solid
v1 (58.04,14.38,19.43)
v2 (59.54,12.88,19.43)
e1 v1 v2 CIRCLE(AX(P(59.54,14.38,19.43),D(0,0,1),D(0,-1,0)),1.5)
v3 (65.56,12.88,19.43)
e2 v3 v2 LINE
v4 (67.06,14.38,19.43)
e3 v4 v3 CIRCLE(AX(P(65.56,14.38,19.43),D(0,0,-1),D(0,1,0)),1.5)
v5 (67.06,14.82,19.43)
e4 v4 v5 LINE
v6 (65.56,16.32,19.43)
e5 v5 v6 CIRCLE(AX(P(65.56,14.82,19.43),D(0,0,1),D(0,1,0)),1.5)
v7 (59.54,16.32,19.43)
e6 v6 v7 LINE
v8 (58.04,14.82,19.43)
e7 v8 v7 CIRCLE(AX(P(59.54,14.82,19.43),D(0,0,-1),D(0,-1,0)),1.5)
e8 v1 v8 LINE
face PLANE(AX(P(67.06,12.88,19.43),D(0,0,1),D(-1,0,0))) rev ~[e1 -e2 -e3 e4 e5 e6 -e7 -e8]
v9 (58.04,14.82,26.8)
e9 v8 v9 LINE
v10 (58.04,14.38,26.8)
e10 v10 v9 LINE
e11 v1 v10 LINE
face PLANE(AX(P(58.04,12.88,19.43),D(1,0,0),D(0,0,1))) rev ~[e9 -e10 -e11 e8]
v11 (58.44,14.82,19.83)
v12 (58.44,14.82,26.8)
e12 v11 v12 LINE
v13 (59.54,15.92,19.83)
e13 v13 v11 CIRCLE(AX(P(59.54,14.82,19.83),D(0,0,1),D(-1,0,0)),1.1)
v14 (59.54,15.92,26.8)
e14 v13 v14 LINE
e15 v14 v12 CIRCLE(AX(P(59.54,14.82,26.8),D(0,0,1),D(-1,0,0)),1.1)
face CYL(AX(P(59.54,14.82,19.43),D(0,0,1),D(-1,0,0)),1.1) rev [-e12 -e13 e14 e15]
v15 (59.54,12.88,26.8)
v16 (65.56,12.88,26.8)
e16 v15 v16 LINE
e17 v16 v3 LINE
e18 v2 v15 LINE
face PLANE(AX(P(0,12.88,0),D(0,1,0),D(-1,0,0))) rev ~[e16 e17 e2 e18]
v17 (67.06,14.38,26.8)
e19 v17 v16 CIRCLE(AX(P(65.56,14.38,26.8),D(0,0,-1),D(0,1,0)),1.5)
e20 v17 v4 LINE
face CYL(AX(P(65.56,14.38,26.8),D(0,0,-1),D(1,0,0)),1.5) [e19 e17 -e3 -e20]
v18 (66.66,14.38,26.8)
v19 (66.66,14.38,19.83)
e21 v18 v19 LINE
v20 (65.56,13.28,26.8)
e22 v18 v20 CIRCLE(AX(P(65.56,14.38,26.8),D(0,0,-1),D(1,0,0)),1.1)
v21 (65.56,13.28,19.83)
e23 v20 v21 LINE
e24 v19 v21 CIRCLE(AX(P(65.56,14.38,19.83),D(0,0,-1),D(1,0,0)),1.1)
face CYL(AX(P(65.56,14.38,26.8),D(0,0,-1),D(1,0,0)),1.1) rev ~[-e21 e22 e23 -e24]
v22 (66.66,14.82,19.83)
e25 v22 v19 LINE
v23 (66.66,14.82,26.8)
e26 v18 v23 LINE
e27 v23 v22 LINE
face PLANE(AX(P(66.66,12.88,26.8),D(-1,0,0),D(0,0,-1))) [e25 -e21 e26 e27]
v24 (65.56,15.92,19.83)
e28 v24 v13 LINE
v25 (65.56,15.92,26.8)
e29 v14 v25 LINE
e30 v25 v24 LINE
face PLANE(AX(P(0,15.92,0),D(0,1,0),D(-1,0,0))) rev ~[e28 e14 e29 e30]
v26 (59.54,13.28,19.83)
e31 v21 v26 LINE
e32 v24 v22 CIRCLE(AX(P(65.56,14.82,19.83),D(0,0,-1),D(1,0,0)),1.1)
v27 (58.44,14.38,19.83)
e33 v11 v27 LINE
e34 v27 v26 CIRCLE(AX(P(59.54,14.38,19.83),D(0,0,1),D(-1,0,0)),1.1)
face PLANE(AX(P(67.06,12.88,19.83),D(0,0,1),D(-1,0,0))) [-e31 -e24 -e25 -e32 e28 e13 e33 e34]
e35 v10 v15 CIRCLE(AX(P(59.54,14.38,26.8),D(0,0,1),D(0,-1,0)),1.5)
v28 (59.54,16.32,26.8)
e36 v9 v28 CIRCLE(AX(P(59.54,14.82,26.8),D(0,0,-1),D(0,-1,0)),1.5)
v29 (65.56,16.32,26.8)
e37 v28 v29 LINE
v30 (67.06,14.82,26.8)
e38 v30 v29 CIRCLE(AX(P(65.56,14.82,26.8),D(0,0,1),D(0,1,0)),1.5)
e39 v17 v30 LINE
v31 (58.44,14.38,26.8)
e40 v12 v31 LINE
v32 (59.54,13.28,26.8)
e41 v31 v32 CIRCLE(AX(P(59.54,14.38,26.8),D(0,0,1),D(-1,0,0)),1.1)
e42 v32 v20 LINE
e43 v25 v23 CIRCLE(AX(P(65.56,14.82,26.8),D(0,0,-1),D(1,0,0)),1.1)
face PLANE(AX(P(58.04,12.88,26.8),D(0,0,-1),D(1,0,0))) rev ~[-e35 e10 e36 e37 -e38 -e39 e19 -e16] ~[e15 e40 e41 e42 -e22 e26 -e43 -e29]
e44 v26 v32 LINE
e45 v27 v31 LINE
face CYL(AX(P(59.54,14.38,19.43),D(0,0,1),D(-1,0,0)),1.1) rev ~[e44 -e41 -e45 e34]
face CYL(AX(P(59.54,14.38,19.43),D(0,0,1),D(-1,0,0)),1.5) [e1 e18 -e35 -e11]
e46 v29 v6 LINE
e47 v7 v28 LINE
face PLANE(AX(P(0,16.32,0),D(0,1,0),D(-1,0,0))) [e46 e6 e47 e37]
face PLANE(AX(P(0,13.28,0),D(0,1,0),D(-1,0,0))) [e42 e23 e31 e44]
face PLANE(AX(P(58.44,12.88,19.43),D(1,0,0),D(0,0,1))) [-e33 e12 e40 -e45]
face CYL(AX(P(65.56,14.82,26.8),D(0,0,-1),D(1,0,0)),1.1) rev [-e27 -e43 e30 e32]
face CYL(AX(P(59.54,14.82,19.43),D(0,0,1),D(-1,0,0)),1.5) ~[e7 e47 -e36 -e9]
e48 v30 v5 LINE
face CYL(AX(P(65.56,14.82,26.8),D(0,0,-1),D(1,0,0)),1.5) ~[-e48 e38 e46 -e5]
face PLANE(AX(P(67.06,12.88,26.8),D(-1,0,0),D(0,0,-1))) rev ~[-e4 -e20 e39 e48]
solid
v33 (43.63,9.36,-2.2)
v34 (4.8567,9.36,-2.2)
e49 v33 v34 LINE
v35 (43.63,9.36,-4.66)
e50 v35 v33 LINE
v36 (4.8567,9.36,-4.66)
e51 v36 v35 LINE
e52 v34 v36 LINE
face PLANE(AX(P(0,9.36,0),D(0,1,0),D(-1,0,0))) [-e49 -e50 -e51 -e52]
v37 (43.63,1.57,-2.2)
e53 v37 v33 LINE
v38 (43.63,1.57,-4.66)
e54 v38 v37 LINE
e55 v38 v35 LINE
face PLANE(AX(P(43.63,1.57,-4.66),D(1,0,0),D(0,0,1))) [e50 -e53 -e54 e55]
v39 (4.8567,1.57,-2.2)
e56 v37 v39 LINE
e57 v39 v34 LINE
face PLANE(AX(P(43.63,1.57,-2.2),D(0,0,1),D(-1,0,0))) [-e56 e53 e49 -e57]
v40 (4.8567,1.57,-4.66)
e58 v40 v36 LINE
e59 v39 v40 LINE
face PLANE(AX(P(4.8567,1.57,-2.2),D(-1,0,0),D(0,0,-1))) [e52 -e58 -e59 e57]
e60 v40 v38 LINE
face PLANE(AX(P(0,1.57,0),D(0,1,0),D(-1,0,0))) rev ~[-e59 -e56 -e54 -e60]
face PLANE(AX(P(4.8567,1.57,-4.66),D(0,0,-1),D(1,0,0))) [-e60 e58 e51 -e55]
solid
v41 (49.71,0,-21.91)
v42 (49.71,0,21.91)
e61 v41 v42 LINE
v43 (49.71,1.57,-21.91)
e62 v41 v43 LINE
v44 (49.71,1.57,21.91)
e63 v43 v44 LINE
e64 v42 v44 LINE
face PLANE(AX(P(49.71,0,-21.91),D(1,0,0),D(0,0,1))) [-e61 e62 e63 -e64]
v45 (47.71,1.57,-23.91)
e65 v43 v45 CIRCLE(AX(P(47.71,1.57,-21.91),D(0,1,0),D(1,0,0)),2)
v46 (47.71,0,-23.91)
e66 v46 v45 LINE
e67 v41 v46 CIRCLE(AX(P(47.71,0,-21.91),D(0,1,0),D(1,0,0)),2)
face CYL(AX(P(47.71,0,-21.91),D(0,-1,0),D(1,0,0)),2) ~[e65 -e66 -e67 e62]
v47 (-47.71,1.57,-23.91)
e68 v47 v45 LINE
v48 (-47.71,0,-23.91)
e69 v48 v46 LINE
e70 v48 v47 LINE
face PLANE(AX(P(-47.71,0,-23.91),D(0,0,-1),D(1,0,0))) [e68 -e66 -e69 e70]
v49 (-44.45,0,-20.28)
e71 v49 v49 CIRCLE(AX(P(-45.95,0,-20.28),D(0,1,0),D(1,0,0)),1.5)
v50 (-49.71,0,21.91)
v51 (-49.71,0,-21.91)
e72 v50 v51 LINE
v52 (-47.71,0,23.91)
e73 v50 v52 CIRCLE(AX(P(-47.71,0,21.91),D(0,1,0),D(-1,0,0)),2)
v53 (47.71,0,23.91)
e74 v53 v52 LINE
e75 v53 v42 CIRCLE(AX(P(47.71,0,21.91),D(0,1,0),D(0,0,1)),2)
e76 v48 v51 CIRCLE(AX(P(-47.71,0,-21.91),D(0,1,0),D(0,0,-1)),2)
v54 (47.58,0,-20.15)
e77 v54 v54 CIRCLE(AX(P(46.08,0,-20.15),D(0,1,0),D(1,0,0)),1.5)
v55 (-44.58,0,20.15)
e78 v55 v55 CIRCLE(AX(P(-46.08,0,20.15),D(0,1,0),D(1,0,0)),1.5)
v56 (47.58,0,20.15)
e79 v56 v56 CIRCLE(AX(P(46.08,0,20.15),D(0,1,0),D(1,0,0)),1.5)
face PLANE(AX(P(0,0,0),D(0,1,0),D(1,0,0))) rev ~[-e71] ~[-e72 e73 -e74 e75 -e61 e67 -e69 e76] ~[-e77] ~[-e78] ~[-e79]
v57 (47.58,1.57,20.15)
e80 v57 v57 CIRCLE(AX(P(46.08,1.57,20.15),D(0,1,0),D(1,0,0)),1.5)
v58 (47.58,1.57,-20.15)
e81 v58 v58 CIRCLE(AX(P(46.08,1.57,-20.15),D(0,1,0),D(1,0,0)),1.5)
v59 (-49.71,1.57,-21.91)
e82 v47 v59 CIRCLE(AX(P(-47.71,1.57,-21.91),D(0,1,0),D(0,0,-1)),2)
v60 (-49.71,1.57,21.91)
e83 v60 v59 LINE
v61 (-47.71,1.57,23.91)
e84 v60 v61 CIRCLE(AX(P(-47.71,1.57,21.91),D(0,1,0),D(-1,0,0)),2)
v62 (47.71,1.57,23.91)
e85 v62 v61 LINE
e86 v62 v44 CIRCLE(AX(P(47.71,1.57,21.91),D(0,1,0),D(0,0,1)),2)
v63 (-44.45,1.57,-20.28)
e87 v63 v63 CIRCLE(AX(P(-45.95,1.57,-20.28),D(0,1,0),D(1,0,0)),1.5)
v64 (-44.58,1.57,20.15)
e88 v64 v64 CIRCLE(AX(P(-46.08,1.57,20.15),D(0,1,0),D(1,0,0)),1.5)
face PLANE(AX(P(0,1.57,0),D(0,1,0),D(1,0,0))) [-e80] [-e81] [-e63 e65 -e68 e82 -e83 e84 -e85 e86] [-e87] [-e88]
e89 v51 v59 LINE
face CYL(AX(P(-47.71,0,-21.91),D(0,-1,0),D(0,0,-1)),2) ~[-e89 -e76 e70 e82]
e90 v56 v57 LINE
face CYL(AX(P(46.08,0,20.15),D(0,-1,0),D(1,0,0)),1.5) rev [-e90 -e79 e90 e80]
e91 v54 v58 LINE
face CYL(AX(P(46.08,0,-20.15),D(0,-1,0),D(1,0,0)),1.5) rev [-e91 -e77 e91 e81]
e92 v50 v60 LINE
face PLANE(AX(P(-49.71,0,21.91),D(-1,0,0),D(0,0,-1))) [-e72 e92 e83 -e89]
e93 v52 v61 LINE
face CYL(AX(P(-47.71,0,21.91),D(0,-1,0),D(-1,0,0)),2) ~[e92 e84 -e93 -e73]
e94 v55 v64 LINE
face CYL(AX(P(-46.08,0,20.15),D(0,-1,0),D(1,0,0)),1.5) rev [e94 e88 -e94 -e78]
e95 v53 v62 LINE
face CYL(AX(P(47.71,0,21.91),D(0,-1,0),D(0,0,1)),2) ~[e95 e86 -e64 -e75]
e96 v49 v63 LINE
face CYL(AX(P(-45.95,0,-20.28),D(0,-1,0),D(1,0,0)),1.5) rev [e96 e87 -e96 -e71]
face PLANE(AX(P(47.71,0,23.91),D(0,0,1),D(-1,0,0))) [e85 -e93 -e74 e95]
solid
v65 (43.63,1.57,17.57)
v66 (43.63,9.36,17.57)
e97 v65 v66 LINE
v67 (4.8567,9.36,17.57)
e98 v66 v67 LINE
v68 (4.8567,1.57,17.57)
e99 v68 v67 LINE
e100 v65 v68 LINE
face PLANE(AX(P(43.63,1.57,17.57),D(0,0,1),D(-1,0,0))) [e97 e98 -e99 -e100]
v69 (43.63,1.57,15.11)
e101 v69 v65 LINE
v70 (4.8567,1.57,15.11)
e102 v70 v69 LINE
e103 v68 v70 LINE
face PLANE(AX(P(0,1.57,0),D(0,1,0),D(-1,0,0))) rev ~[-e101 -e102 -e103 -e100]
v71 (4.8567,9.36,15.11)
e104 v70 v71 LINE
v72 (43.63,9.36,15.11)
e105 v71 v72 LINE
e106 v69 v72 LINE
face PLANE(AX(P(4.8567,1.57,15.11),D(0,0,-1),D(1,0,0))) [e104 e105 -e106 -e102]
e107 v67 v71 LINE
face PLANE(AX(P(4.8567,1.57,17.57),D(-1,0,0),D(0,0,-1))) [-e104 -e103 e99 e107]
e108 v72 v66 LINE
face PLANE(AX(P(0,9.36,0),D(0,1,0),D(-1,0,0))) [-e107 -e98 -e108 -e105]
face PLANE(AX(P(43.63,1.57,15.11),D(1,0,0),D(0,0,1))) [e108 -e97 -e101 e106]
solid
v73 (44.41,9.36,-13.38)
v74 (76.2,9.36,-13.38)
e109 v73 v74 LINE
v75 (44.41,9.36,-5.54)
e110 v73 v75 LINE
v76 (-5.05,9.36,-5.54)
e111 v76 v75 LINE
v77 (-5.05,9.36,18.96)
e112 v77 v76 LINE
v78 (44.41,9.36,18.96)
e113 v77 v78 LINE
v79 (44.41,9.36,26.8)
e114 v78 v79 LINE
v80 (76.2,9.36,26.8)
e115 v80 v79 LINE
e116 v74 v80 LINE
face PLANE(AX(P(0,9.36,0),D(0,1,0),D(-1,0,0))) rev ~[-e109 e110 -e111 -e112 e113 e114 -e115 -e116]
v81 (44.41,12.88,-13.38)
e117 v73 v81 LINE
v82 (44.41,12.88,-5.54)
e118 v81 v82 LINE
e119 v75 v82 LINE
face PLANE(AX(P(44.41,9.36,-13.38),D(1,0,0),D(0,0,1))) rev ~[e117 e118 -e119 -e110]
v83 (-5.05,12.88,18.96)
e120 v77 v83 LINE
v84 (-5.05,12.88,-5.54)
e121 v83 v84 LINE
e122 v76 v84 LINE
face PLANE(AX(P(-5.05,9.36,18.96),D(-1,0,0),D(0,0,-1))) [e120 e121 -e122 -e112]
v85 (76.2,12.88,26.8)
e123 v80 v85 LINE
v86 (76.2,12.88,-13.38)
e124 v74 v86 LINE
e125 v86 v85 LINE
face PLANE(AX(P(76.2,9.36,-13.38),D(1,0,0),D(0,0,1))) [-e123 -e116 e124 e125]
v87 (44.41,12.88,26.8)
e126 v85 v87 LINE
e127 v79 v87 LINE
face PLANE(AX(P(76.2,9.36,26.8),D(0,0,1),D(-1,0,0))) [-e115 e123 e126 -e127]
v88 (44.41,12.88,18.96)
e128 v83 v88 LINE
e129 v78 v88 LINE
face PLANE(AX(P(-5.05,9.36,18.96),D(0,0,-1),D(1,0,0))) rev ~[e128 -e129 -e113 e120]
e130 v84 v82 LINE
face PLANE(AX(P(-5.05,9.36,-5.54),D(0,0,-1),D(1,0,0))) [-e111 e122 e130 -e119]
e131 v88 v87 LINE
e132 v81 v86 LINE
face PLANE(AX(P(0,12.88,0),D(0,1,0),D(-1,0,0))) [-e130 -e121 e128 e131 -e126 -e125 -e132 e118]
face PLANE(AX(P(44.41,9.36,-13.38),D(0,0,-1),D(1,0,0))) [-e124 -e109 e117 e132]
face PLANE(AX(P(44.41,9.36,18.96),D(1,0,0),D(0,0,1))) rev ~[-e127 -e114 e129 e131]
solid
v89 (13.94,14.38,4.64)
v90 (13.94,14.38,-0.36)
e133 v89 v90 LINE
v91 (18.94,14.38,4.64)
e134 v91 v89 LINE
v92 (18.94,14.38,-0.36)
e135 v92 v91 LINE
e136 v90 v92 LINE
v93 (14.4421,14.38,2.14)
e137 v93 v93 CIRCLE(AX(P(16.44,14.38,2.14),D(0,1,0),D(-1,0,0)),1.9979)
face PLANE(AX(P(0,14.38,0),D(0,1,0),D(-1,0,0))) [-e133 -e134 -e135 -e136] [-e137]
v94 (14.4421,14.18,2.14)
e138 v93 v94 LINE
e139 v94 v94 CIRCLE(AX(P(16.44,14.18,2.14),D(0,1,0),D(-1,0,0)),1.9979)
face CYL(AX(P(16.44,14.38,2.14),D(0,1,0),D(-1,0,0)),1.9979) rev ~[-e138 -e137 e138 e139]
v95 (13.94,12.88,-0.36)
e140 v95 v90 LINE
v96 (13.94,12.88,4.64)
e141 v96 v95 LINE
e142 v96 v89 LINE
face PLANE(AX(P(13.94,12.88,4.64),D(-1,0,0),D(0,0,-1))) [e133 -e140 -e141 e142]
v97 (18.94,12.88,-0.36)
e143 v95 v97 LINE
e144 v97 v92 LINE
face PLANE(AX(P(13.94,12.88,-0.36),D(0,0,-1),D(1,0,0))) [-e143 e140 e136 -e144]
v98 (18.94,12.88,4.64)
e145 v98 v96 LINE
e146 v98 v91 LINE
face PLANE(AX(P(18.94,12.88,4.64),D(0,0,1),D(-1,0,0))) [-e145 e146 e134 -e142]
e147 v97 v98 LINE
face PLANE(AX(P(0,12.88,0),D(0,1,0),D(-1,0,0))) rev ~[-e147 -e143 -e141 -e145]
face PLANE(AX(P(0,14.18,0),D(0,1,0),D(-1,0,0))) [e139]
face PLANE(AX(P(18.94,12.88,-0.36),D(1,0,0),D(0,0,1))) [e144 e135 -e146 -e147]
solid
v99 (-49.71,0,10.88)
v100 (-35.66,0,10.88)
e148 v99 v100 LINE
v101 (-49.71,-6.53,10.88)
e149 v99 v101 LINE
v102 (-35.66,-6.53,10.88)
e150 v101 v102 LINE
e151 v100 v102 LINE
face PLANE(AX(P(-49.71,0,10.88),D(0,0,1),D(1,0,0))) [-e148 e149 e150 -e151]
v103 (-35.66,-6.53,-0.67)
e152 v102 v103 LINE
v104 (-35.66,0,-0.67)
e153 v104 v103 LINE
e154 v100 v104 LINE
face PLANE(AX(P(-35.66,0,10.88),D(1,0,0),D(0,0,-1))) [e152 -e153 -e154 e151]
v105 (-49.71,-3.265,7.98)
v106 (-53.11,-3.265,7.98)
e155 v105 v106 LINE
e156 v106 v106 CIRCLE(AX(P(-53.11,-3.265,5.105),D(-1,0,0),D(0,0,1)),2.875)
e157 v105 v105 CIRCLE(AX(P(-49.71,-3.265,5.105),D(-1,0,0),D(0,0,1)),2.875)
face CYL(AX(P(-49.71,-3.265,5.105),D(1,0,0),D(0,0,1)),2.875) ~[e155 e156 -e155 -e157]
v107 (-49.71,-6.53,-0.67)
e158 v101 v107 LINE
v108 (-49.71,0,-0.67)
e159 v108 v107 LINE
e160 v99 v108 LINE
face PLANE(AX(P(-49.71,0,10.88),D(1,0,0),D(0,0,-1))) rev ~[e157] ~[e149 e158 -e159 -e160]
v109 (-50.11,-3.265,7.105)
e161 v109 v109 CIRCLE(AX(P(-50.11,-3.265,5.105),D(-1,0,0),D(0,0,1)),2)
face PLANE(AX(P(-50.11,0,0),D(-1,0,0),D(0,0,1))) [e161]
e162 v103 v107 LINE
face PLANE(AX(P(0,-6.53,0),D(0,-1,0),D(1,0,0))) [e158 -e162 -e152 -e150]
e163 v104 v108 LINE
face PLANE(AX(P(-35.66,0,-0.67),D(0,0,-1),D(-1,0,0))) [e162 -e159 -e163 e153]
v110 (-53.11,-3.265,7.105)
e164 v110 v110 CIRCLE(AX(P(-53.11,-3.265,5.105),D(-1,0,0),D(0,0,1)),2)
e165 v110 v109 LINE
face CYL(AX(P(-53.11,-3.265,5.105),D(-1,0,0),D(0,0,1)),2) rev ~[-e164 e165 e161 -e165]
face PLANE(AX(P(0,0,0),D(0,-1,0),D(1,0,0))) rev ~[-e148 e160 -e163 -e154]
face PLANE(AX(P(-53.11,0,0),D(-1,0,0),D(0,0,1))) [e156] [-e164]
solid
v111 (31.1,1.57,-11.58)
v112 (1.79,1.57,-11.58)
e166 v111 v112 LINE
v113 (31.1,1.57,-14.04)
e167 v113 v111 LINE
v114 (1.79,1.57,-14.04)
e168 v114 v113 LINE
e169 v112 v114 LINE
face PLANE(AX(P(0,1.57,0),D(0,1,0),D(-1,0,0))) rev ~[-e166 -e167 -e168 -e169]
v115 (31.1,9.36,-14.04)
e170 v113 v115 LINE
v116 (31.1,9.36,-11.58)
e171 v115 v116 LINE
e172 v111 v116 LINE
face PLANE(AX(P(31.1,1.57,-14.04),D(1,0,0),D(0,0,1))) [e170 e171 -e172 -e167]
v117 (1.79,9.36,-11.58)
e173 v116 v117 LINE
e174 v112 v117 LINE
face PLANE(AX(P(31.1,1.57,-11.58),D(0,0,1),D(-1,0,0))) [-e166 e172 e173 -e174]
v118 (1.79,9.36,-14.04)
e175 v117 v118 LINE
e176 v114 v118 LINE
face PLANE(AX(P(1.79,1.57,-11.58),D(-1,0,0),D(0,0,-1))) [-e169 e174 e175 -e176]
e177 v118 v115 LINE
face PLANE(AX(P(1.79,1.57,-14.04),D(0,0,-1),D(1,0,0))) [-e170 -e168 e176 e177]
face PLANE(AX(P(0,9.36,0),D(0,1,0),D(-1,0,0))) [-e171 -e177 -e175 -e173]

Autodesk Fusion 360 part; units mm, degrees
sketch "Sketch1" plane through (0, 0, 0) normal (0, 1, 0) x (1, 0, 0)
  line L0 (47.71, -23.91) -> (-47.71, -23.91)
  line L1 (-49.71, -21.91) -> (-49.71, 21.91)
  line L2 (-47.71, 23.91) -> (47.71, 23.91)
  line L3 (49.71, 21.91) -> (49.71, -21.91)
  line L4 (49.71, -23.91) -> (-49.71, 23.91) construction
  line L5 (-49.71, -23.91) -> (49.71, 23.91) construction
  circle A0 centre (-45.95, 20.28) radius 1.5
  circle A1 centre (46.08, 20.15) radius 1.5
  circle A2 centre (46.08, -20.15) radius 1.5
  circle A3 centre (-46.08, -20.15) radius 1.5
  arc A4 (-47.71, 23.91) -> (-49.71, 21.91) centre (-47.71, 21.91) ccw
  arc A5 (-49.71, -21.91) -> (-47.71, -23.91) centre (-47.71, -21.91) ccw
  arc A6 (47.71, -23.91) -> (49.71, -21.91) centre (47.71, -21.91) ccw
  arc A7 (49.71, 21.91) -> (47.71, 23.91) centre (47.71, 21.91) ccw
  dimension "d1" = 99.42
  dimension "d2" = 47.82
  dimension "d3" = 3
  dimension "d5" = 3.76
  dimension "d6" = 3.63
  dimension "d13" = 3.63
  dimension "d14" = 3.76
  dimension "d15" = 3.76
  dimension "d16" = 3.63
  dimension "d17" = 3.63
  dimension "d18" = 3.76
  dimension "d19" = 2
extrude "Extrude1" add sketch "Sketch1" along normal blind 1.57 makes body 1
sketch "Sketch2" plane through (0, 1.57, 0) normal (0, 1, 0) x (-1, 0, 0)
  circle A0 centre (45.95, -20.28) radius 1.5
  circle A1 centre (46.08, 20.15) radius 1.5
  circle A2 centre (-46.08, 20.15) radius 1.5
  circle A3 centre (-46.08, -20.15) radius 1.5
  arc A4 (-47.71, 23.91) -> (-49.71, 21.91) centre (-47.71, 21.91) ccw
  line L0 (-49.71, 21.91) -> (-49.71, -21.91)
  arc A5 (-49.71, -21.91) -> (-47.71, -23.91) centre (-47.71, -21.91) ccw
  line L1 (-47.71, -23.91) -> (47.71, -23.91)
  arc A6 (47.71, -23.91) -> (49.71, -21.91) centre (47.71, -21.91) ccw
  line L2 (49.71, -21.91) -> (49.71, 21.91)
  arc A7 (49.71, 21.91) -> (47.71, 23.91) centre (47.71, 21.91) ccw
  line L3 (47.71, 23.91) -> (-47.71, 23.91)
  line L4 (-1.79, -14.04) -> (-31.1, -14.04)
  line L5 (-31.1, -14.04) -> (-31.1, -11.58)
  line L6 (-31.1, -11.58) -> (-1.79, -11.58)
  line L7 (-1.79, -11.58) -> (-1.79, -14.04)
  line L8 (-4.8567, 15.11) -> (-43.63, 15.11)
  line L9 (-43.63, 15.11) -> (-43.63, 17.57)
  line L10 (-43.63, 17.57) -> (-4.8567, 17.57)
  line L11 (-4.8567, 17.57) -> (-4.8567, 15.11)
  line L12 (-4.8567, -4.66) -> (-43.63, -4.66)
  line L13 (-43.63, -4.66) -> (-43.63, -2.2)
  line L14 (-43.63, -2.2) -> (-4.8567, -2.2)
  line L15 (-4.8567, -2.2) -> (-4.8567, -4.66)
  dimension "d23" = 2.46
  dimension "d24" = 29.31
  dimension "d25" = 18.61
  dimension "d28" = 2.46
  dimension "d29" = 2.46
  dimension "d30" = 17.31
  dimension "d31" = 6.34
  dimension "d32" = 6.08
  dimension "d33" = 6.08
  dimension "d34" = 44.8533
  dimension "d52" = 6.92
extrude "Extrude2" add sketch "Sketch2" along normal blind 7.79 separate body contours L4 L5 L6 L7 | L8 L9 L10 L11 | L12 L13 L14 L15 makes body 2 at (11.56, 4.1667, -14.04) makes body 3 at (17.7811, 4.1667, -4.66) makes body 4 at (17.7811, 4.1667, 15.11)
sketch "Sketch3" plane through (0, 0, 0) normal (0, -1, 0) x (1, 0, 0)
  circle A0 centre (-45.95, -20.28) radius 1.5
  circle A1 centre (-46.08, 20.15) radius 1.5
  circle A2 centre (46.08, 20.15) radius 1.5
  circle A3 centre (46.08, -20.15) radius 1.5
  arc A4 (49.71, 21.91) -> (47.71, 23.91) centre (47.71, 21.91) ccw
  line L0 (47.71, 23.91) -> (-47.71, 23.91)
  arc A5 (-47.71, 23.91) -> (-49.71, 21.91) centre (-47.71, 21.91) ccw
  line L1 (-49.71, 21.91) -> (-49.71, -21.91)
  arc A6 (-49.71, -21.91) -> (-47.71, -23.91) centre (-47.71, -21.91) ccw
  line L2 (-47.71, -23.91) -> (47.71, -23.91)
  arc A7 (47.71, -23.91) -> (49.71, -21.91) centre (47.71, -21.91) ccw
  line L3 (49.71, -21.91) -> (49.71, 21.91)
  line L4 (-49.71, 10.88) -> (-35.66, 10.88)
  line L5 (-35.66, 10.88) -> (-35.66, -0.67)
  line L6 (-35.66, -0.67) -> (-49.71, -0.67)
  line L7 (-49.71, -0.67) -> (-49.71, 10.88)
  dimension "d37" = 11.55
  dimension "d38" = 14.05
  dimension "d39" = 13.03
extrude "Extrude3" add sketch "Sketch3" along normal blind 6.53 separate body contours L1 L4 L5 L6 L7 makes body 5
sketch "Sketch4" plane through (-49.71, 0, 0) normal (-1, 0, 0) x (0, 0, 1)
  line L0 (10.88, 0) -> (-0.67, 0)
  line L1 (-0.67, 0) -> (-0.67, -6.53)
  line L2 (-0.67, -6.53) -> (10.88, -6.53)
  line L3 (10.88, -6.53) -> (10.88, 0)
  circle A0 centre (5.105, -3.265) radius 2.875
  line L4 (10.88, -3.265) -> (-0.67, -3.265) construction
  dimension "d42" = 5.75
extrude "Extrude4" add sketch "Sketch4" along normal blind 3.4 contours A0 bodies 5
sketch "Sketch5" plane through (-53.11, 0, 0) normal (-1, 0, 0) x (0, 0, 1)
  circle A0 centre (5.105, -3.265) radius 2.875
  circle A1 centre (5.105, -3.265) radius 2
  dimension "d45" = 4
extrude "Extrude5" cut sketch "Sketch5" against normal blind 3 contours A1 bodies 5
sketch "Sketch6" plane through (0, 9.36, 0) normal (0, 1, 0) x (-1, 0, 0)
  line L0 (-4.8567, -2.2) -> (-43.63, -2.2)
  line L1 (-43.63, -2.2) -> (-43.63, -4.66)
  line L2 (-43.63, -4.66) -> (-4.8567, -4.66)
  line L3 (-4.8567, -4.66) -> (-4.8567, -2.2)
  line L4 (-44.41, -13.38) -> (-76.2, -13.38)
  line L5 (-76.2, -13.38) -> (-76.2, 26.8)
  line L6 (-76.2, 26.8) -> (-44.41, 26.8)
  line L7 (5.05, 18.96) -> (5.05, -5.54)
  line L8 (-49.71, 21.91) -> (-49.71, -21.91)
  line L9 (-4.8567, 17.57) -> (-43.63, 17.57)
  line L10 (5.05, 18.96) -> (-44.41, 18.96)
  line L11 (5.05, -5.54) -> (-44.41, -5.54)
  line L12 (-44.41, -13.38) -> (-44.41, -5.54)
  line L13 (-44.41, 18.96) -> (-44.41, 26.8)
  dimension "d50" = 26.49
  dimension "d51" = 9.23
  dimension "d53" = 31.79
  dimension "d54" = 24.5
  dimension "d56" = 49.46
  dimension "d57" = 7.84
  dimension "d58" = 7.84
extrude "Extrude6" add sketch "Sketch6" along normal blind 3.52 separate body contours L0 L1 L2 L3 | L4 L5 L6 L7 L10 L11 L12 L13 makes body 6
sketch "Sketch7" plane through (0, 12.88, 0) normal (0, 1, 0) x (-1, 0, 0)
  line L0 (5.05, 18.96) -> (-44.41, 18.96)
  line L1 (-44.41, 18.96) -> (-44.41, 26.8)
  line L2 (-44.41, 26.8) -> (-76.2, 26.8)
  line L3 (-76.2, 26.8) -> (-76.2, -13.38)
  line L4 (-76.2, -13.38) -> (-44.41, -13.38)
  line L5 (-44.41, -13.38) -> (-44.41, -5.54)
  line L6 (-44.41, -5.54) -> (5.05, -5.54)
  line L7 (5.05, -5.54) -> (5.05, 18.96)
  line L8 (-58.04, 26.8) -> (-67.06, 26.8)
  line L9 (-67.06, 26.8) -> (-67.06, 19.43)
  line L10 (-67.06, 19.43) -> (-58.04, 19.43)
  line L11 (-58.04, 19.43) -> (-58.04, 26.8)
  dimension "d61" = 9.14
  dimension "d62" = 7.37
  dimension "d63" = 9.02
extrude "Extrude7" add sketch "Sketch7" along normal blind 3.44 separate body contours L2 L8 L9 L10 L11 makes body 7
fillet "Fillet1" radius 1.5 4 edges at (58.04, 12.88, 23.115) (58.04, 16.32, 23.115) (67.06, 16.32, 23.115) (67.06, 12.88, 23.115) on bodies 7
shell "Shell1" thickness 0.4 removed faces 1 at (63.5533, 15.1733, 26.8) on bodies 7
sketch "Sketch8" plane through (0, 12.88, 0) normal (0, 1, 0) x (-1, 0, 0)
  line L0 (5.05, 18.96) -> (-44.41, 18.96)
  line L1 (-44.41, 18.96) -> (-44.41, 26.8)
  line L2 (-44.41, 26.8) -> (-76.2, 26.8)
  line L3 (-76.2, 26.8) -> (-76.2, -13.38)
  line L4 (-76.2, -13.38) -> (-44.41, -13.38)
  line L5 (-44.41, -13.38) -> (-44.41, -5.54)
  line L6 (-44.41, -5.54) -> (5.05, -5.54)
  line L7 (5.05, -5.54) -> (5.05, 18.96)
  line L8 (-13.94, -0.36) -> (-18.94, -0.36)
  line L9 (-18.94, -0.36) -> (-18.94, 4.64)
  line L10 (-18.94, 4.64) -> (-13.94, 4.64)
  line L11 (-13.94, 4.64) -> (-13.94, -0.36)
  dimension "d69" = 5
  dimension "d70" = 5
  dimension "d71" = 18.99
  dimension "d72" = 5.18
extrude "Extrude8" add sketch "Sketch8" along normal blind 1.5 separate body contours L8 L9 L10 L11 makes body 8
sketch "Sketch9" plane through (0, 14.38, 0) normal (0, 1, 0) x (-1, 0, 0)
  line L0 (-13.94, 4.64) -> (-18.94, 4.64)
  line L1 (-18.94, 4.64) -> (-18.94, -0.36)
  line L2 (-18.94, -0.36) -> (-13.94, -0.36)
  line L3 (-13.94, -0.36) -> (-13.94, 4.64)
  circle A0 centre (-16.44, 2.14) radius 1.9979
  line L4 (-16.44, -0.36) -> (-16.44, 4.64) construction
extrude "Extrude9" cut sketch "Sketch9" against normal blind 0.2 contours A0 bodies 8
equation "d13 = PCBhole_shortside"
equation "d14 = PCBhole_longside"
equation "d15 = PCBhole_longside"
equation "d16 = PCBhole_shortside"
equation "d17 = PCBhole_shortside"
equation "d18 = PCBhole_longside"
equation "d20 = PCBthickness"
equation "d23 = HeaderSMD_thickness"
equation "d28 = HeaderSMD_thickness"
equation "d29 = HeaderSMD_thickness"
equation "d35 = HeaderSMD_Height"
equation "d59 = 1.57 mm + 1.95 mm"
equation "PCBthickness = 1.57 mm"
equation "PCBhole_longside = 3.76 mm"
equation "PCBhole_shortside = 3.63 mm"
equation "HeaderSMD_thickness = 2.46 mm"
equation "HeaderSMD_Height = 7.79 mm"
